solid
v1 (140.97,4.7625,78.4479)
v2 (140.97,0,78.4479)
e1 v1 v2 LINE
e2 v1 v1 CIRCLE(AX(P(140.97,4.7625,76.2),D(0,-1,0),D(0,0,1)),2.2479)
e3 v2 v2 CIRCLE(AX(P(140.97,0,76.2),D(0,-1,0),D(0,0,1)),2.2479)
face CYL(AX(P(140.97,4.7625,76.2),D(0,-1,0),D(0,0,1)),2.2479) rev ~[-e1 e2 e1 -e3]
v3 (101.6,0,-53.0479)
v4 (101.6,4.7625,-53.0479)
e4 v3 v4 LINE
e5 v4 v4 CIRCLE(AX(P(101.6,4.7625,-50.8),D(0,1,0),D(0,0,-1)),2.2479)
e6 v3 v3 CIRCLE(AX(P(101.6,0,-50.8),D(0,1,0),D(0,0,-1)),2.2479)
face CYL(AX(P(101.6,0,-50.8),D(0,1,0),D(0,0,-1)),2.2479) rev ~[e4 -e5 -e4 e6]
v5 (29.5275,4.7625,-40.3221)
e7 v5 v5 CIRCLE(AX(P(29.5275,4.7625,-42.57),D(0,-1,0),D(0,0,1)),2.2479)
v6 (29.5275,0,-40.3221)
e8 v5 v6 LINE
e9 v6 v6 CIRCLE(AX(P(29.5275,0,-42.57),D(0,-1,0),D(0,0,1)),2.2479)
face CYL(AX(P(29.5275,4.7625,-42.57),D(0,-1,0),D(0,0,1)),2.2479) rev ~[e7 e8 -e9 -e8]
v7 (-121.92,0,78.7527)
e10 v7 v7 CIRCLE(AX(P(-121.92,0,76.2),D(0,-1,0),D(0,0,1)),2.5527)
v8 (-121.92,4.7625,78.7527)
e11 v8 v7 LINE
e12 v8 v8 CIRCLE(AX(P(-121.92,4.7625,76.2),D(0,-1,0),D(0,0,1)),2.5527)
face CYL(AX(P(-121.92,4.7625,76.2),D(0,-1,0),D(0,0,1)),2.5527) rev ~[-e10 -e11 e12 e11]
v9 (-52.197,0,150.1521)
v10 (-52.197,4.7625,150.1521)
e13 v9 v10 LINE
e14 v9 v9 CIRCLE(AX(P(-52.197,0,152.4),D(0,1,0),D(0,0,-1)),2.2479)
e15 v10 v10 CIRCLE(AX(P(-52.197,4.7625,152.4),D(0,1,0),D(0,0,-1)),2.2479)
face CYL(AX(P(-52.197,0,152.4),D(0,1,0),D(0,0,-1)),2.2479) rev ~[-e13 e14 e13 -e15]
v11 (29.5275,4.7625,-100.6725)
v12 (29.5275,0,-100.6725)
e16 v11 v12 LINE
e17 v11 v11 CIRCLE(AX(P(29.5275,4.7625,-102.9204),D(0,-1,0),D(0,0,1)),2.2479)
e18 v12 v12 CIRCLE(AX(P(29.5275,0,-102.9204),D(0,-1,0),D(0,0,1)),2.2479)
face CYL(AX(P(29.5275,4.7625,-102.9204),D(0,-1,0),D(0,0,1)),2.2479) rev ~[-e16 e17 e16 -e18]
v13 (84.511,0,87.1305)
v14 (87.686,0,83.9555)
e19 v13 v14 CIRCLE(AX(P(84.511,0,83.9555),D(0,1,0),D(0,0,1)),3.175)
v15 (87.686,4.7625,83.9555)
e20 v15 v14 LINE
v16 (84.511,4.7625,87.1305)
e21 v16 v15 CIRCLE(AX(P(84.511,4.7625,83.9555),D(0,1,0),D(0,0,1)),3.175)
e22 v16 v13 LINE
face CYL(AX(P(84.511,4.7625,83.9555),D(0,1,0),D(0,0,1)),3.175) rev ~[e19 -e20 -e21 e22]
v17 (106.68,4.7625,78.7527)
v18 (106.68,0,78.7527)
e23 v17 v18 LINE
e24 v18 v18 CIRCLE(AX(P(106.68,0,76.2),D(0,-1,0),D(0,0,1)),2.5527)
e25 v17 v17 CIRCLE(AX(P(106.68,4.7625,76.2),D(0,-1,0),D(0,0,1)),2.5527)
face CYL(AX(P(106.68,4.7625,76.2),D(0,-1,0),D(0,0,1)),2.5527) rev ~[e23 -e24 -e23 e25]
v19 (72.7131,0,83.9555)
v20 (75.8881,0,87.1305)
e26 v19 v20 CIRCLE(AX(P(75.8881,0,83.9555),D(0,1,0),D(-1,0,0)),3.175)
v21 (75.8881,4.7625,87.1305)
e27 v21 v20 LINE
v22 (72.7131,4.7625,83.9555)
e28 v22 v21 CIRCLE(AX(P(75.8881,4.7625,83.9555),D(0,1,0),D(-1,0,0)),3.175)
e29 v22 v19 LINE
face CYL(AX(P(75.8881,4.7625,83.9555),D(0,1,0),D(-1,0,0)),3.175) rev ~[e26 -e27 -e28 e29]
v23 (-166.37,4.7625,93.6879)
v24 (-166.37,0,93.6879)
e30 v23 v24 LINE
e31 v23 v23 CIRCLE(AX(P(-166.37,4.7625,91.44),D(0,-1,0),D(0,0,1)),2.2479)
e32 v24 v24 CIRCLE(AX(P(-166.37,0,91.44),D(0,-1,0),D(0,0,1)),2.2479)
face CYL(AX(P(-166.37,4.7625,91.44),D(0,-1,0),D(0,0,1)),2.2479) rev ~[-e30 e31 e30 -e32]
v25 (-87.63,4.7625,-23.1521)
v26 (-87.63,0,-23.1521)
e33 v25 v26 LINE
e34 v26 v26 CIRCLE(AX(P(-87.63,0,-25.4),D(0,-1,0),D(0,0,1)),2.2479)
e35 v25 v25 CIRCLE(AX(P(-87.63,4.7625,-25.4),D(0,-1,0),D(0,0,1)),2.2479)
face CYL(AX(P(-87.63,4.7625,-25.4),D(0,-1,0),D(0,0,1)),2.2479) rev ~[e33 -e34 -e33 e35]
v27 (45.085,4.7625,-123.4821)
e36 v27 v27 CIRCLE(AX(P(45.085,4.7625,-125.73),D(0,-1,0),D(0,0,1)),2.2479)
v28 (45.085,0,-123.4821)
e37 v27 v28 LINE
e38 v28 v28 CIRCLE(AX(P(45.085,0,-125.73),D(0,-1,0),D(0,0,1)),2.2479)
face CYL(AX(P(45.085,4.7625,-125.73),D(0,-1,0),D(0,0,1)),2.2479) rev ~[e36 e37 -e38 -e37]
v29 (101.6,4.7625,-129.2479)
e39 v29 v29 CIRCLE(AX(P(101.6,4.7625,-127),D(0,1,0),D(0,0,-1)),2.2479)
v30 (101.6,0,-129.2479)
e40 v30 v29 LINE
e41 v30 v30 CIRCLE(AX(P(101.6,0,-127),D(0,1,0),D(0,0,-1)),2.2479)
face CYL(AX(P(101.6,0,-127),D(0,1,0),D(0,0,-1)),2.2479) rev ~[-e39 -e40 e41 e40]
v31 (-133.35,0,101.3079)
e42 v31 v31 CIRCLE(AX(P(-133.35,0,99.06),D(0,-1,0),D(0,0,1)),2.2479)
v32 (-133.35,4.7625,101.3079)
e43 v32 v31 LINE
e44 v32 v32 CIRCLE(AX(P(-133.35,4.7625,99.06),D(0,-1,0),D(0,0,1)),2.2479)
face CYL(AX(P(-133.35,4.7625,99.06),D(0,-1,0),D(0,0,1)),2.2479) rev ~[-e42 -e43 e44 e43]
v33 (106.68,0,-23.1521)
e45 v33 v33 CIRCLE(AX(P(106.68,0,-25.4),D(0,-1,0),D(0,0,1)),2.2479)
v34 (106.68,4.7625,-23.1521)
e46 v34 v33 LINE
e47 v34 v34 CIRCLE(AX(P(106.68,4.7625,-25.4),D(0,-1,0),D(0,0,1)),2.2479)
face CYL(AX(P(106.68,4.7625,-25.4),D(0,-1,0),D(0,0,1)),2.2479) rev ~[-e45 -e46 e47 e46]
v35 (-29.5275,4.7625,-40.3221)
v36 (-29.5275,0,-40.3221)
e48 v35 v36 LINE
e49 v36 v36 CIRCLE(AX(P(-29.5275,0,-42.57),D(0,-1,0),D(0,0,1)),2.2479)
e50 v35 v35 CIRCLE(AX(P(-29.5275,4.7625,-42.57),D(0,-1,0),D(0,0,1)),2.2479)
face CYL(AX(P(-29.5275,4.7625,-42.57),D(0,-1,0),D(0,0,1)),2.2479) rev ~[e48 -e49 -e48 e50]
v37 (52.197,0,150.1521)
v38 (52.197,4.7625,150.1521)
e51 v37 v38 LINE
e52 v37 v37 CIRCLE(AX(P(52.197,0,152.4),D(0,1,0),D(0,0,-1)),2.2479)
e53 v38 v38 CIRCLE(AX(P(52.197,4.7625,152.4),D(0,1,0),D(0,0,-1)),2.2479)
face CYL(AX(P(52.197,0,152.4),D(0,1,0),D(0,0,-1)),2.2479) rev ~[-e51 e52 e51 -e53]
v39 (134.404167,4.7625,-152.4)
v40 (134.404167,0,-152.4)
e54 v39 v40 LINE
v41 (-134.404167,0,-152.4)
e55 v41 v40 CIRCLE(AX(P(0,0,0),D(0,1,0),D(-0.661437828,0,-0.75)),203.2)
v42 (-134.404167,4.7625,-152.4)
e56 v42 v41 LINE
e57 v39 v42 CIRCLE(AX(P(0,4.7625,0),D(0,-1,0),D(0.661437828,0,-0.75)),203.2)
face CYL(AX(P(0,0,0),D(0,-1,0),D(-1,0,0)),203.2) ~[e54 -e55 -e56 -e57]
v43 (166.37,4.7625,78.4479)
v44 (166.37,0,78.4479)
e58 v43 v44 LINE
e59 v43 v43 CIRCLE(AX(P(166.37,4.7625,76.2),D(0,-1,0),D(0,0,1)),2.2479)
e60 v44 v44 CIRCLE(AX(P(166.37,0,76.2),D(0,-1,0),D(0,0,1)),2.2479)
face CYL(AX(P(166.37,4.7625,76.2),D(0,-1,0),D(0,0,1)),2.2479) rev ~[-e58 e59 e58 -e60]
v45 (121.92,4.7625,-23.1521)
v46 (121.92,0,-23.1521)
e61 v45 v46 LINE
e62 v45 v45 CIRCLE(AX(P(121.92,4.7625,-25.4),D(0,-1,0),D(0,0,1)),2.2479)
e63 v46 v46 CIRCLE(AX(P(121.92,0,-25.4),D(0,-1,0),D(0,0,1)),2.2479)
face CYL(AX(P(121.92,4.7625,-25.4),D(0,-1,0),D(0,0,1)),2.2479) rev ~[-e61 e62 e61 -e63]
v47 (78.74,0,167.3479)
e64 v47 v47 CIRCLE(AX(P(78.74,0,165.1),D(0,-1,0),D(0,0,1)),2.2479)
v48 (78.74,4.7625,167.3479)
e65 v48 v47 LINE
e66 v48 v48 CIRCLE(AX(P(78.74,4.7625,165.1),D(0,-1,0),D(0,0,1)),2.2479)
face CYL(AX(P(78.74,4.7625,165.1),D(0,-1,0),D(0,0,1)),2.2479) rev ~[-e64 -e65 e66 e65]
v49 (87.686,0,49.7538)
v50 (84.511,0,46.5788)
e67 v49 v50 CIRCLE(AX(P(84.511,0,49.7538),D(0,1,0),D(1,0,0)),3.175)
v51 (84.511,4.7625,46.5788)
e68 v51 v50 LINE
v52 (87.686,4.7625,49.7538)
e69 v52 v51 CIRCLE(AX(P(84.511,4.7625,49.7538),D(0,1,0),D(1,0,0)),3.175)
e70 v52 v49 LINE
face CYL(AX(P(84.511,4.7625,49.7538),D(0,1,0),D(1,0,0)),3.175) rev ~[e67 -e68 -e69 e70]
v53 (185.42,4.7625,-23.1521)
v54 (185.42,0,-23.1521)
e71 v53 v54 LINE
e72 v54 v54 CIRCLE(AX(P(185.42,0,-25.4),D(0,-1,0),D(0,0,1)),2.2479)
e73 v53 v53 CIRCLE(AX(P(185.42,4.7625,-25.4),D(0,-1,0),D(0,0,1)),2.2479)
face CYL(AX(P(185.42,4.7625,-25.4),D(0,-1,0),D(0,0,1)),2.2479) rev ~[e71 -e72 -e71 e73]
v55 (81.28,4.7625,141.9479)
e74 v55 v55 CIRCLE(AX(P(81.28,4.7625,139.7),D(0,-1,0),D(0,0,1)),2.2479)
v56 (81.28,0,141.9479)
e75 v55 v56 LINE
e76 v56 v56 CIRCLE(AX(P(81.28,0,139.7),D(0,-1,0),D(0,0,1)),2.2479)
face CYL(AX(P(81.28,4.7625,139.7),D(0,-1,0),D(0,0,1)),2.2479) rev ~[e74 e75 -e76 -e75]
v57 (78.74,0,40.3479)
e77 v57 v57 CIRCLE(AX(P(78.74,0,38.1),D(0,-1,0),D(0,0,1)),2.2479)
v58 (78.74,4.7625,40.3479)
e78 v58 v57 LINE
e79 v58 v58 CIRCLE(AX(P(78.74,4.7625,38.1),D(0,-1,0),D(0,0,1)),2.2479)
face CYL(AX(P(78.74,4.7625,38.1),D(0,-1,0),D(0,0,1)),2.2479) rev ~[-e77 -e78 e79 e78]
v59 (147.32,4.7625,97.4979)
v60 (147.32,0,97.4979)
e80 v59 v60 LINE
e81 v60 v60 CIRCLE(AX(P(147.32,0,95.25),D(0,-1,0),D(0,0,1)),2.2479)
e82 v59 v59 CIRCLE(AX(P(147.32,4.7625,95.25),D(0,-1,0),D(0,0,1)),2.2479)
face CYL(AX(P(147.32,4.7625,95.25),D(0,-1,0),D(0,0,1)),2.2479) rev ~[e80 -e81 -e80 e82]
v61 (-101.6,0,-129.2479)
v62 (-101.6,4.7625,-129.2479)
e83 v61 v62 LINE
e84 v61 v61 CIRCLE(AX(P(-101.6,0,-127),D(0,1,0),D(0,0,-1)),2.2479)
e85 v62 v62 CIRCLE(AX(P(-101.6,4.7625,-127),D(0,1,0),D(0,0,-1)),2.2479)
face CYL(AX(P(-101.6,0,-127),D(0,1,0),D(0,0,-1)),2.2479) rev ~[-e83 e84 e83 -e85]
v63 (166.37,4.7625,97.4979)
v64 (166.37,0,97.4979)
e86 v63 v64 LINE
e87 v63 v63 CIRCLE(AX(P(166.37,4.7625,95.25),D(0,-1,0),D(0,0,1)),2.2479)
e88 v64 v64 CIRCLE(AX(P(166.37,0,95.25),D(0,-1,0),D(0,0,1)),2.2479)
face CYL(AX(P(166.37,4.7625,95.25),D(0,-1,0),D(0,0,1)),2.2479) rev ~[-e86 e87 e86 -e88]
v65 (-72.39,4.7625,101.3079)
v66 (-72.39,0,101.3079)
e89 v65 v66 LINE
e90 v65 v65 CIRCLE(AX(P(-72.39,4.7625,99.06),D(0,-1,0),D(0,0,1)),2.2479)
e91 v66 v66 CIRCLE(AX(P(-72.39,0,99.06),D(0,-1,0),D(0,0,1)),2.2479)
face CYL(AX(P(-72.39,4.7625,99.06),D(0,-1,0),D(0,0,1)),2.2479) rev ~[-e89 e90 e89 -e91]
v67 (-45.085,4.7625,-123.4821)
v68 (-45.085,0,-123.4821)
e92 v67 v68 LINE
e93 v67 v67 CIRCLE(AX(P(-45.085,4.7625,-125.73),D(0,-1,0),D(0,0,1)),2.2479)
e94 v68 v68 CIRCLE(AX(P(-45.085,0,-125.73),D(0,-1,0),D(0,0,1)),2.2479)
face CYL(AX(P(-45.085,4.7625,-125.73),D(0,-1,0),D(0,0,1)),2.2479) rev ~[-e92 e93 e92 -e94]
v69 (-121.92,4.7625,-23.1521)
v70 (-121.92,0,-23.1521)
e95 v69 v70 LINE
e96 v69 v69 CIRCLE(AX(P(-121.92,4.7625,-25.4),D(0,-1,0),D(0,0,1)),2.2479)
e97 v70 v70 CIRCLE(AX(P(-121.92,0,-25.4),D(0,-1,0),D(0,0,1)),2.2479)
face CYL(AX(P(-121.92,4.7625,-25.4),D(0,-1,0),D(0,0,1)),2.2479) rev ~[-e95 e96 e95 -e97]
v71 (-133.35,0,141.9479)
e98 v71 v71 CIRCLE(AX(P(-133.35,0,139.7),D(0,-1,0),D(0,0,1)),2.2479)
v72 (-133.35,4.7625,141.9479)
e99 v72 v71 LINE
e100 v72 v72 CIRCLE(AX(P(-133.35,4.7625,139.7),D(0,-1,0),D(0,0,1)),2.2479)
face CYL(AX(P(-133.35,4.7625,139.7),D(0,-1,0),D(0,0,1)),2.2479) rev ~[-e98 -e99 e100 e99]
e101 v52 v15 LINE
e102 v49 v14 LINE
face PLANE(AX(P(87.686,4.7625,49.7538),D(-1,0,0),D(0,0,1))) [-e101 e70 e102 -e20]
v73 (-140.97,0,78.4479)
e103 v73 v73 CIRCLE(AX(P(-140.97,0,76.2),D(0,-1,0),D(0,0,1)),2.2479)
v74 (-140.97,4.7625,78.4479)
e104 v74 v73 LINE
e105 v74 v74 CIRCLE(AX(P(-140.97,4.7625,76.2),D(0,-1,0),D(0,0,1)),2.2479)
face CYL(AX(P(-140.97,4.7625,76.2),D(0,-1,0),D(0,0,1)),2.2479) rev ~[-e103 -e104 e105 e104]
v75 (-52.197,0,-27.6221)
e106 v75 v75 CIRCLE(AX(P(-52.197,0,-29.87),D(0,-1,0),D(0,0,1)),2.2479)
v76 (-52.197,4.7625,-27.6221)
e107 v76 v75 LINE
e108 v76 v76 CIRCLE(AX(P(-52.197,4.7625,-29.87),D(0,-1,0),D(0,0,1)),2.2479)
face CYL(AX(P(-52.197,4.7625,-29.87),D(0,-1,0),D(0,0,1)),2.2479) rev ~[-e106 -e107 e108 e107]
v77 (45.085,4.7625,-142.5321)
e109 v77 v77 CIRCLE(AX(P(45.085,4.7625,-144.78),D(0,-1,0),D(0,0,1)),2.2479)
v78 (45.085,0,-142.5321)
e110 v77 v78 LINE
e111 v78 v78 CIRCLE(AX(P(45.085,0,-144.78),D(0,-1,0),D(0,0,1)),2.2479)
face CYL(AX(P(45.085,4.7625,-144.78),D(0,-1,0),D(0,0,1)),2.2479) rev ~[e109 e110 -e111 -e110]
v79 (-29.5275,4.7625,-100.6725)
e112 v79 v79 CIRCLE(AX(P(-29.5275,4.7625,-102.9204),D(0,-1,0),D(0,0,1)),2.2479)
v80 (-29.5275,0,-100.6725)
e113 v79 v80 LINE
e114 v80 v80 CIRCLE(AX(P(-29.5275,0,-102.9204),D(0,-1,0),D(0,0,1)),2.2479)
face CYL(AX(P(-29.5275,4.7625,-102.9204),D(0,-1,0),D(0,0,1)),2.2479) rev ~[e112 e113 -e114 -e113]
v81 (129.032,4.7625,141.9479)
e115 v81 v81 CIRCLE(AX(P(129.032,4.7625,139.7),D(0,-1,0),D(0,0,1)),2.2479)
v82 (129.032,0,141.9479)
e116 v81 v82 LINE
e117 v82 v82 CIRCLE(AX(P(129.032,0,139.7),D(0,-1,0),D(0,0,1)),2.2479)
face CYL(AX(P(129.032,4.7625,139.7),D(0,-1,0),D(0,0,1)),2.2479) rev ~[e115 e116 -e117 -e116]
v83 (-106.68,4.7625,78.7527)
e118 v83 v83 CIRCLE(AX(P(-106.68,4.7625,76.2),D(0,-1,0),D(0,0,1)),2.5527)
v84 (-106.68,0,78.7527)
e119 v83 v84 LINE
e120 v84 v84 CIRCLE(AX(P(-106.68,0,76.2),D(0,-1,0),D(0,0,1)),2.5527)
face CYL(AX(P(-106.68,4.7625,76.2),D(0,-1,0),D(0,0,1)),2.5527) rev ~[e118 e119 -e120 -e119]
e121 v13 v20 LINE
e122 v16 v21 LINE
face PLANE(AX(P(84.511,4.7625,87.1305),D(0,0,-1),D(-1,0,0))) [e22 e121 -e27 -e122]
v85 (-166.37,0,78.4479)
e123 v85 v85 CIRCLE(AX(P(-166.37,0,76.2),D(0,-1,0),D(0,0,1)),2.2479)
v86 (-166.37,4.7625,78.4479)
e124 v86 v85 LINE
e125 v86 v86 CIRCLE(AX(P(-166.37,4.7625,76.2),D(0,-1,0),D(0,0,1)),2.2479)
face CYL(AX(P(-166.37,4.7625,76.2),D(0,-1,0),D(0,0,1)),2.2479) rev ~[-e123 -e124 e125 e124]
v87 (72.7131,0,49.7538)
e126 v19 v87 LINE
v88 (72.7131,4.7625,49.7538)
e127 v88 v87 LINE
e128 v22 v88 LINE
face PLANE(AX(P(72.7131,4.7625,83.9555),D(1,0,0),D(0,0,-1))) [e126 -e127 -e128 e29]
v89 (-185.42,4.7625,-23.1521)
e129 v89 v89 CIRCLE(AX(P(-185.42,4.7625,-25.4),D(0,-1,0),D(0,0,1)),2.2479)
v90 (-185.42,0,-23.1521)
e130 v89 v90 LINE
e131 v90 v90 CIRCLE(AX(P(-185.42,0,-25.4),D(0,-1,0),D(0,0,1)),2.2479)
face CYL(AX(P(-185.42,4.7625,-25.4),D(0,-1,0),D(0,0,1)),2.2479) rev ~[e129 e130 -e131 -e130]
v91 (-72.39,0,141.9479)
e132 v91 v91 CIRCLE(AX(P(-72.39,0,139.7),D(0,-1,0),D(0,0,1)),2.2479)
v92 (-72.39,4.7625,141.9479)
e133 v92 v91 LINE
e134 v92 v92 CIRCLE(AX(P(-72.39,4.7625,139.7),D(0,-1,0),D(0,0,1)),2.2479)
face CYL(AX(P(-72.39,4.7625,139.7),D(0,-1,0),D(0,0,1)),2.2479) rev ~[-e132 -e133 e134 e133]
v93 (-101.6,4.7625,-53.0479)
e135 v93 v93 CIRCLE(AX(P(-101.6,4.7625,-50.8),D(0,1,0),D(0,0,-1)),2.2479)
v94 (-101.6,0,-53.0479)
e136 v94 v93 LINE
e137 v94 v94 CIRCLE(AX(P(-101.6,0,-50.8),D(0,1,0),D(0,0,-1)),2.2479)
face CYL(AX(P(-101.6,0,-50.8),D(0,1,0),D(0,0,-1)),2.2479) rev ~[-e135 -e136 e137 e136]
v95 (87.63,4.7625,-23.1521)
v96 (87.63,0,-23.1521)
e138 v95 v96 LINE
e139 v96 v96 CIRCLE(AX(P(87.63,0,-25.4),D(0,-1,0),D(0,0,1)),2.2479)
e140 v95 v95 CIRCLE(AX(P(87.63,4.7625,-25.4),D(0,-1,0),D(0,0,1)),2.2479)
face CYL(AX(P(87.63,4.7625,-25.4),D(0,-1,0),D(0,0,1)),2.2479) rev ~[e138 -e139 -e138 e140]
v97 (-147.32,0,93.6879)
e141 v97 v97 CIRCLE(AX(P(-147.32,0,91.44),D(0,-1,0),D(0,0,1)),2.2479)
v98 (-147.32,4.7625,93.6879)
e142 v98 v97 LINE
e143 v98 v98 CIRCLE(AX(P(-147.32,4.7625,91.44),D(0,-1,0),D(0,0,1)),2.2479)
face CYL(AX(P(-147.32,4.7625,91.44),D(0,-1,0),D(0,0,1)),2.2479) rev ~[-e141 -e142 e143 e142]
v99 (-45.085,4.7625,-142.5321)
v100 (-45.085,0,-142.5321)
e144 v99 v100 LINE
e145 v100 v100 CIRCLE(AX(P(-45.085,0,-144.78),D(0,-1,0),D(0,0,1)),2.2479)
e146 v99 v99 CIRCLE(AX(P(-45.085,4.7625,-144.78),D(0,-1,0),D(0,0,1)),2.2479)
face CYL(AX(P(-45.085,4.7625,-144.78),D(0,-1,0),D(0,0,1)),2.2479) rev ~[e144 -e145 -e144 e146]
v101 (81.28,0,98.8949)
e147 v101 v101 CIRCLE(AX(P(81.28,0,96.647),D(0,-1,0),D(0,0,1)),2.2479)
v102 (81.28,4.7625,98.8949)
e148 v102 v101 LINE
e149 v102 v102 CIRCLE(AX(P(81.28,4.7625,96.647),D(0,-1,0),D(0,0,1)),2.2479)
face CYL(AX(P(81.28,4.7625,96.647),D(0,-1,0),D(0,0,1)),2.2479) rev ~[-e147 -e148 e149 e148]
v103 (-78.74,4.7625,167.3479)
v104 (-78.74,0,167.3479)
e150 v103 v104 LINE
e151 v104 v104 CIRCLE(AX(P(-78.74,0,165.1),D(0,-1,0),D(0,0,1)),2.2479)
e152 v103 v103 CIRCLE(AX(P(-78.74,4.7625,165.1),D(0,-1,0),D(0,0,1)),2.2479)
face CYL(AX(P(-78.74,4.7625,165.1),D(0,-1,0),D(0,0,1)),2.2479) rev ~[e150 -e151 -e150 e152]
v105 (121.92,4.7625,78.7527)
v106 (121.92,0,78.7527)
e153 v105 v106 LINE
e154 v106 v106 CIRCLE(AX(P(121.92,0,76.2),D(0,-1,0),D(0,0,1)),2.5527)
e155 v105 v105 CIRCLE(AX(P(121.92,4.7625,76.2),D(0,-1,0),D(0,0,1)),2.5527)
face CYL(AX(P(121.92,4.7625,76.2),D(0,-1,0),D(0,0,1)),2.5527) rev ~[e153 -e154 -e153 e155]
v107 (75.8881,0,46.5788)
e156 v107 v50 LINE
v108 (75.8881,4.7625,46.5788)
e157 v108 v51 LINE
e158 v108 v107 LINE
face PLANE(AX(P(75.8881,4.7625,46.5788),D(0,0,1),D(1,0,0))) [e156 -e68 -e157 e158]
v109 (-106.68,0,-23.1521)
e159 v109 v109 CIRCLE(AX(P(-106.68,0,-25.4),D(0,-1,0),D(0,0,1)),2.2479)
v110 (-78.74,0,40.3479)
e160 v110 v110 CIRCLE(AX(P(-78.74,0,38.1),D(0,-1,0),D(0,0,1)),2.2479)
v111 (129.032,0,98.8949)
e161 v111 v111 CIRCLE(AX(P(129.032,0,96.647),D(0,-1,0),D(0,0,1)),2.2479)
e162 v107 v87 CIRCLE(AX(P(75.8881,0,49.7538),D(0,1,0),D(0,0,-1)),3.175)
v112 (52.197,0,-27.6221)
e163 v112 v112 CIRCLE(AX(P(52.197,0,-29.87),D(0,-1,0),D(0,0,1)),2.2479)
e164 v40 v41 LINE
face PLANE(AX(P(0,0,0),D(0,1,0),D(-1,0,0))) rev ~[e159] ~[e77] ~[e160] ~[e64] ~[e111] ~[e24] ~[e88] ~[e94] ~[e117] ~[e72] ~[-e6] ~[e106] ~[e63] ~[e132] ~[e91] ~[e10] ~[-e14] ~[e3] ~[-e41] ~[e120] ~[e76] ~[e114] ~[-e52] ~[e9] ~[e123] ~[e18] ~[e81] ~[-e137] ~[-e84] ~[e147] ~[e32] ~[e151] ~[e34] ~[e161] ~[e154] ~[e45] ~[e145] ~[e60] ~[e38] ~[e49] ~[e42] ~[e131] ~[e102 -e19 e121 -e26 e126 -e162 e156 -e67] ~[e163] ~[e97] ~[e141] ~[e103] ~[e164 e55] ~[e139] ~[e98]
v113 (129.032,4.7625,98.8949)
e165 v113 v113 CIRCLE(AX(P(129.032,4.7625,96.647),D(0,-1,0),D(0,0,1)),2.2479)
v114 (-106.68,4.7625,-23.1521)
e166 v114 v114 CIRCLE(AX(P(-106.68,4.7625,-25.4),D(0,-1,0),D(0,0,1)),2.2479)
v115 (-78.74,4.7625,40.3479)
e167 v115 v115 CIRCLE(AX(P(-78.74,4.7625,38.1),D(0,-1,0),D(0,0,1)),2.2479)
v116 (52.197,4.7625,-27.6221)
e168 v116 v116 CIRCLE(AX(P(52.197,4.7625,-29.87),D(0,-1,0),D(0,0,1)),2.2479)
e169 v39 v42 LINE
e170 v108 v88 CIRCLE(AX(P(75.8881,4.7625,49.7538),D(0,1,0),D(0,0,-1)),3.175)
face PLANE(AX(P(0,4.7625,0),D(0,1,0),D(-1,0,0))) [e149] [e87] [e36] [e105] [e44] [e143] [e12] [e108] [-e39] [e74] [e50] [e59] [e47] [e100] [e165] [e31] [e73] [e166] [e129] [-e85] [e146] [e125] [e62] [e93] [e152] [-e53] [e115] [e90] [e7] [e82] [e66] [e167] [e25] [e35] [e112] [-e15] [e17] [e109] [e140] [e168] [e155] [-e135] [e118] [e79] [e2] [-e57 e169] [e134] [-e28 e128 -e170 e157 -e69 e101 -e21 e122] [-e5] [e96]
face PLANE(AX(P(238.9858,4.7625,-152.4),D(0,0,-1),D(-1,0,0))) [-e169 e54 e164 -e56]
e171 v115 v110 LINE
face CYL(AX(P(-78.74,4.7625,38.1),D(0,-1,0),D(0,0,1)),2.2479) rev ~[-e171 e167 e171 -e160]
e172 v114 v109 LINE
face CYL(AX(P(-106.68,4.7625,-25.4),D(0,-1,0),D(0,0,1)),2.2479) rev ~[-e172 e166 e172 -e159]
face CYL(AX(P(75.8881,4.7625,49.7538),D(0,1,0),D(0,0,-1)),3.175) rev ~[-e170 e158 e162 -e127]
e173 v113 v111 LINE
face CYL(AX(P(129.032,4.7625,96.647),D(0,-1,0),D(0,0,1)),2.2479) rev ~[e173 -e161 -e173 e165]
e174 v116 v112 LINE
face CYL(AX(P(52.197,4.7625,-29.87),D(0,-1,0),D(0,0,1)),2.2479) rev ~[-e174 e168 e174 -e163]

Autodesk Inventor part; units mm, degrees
ref_plane "YZ Plane" through (0, 0, 0) normal (1, 0, 0) x (0, 1, 0)
ref_plane "XZ Plane" through (0, 0, 0) normal (0, 1, 0) x (-1, 0, 0)
ref_plane "XY Plane" through (0, 0, 0) normal (0, 0, 1) x (1, 0, 0)
sketch "Sketch1" plane through (0, 0, 0) normal (0, 1, 0) x (-1, 0, 0)
  circle A0 centre (0, 0) radius 203.2
  dimension "d0" = 406.4
extrude "Extrusion1" add sketch "Sketch1" along normal blind 4.7625
sketch "Sketch6" plane through (0, 0, 0) normal (0, -1, 0) x (1, 0, 0)
  point P0 (0, 0)
  point P1 (52.197, 152.4)
  point P2 (-52.197, 152.4)
  dimension "d48" = 0
  dimension "d49" = 104.394
  dimension "d50" = 52.197
  dimension "d51" = 152.4
hole "Hole3" at (52.197, 0, 152.4) at (-52.197, 0, 152.4) direction (0, 1, 0) diameter 4.4958 end through all clearance for "Flat Head Machine Screw (82)" size "#8" standard "Ansi Unified Screw Threads"
sketch "Sketch8" plane through (0, 4.7625, 0) normal (0, 1, 0) x (1, 0, 0)
  line L0 (-249.9736, 258.2829) -> (238.9858, 258.2829)
  line L1 (238.9858, 258.2829) -> (238.9858, 152.4)
  line L2 (238.9858, 152.4) -> (-249.9736, 152.4)
  line L3 (-249.9736, 152.4) -> (-249.9736, 258.2829)
  point P0 (0, 0)
  dimension "d80" = 152.4
extrude "Extrusion4" cut sketch "Sketch8" against normal blind 100.0125
sketch "Sketch14" plane through (0, 4.7625, 0) normal (0, 1, 0) x (1, 0, 0)
  circle A0 centre (52.197, -152.4) radius 2.2479 projected
  circle A1 centre (-52.197, -152.4) radius 2.2479 projected
  point P0 (0, 0)
  point P1 (-52.197, 29.87)
  point P2 (52.197, 29.87)
  dimension "d138" = 0
  dimension "d139" = 182.27
  dimension "d140" = 182.27
  dimension "d141" = 0
hole "Hole7" at (-52.197, 4.7625, -29.87) at (52.197, 4.7625, -29.87) direction (0, -1, 0) diameter 4.4958 depth 25.4 tip angle 118 clearance for "Hex Machine Screw" size "#8" standard "Ansi Unified Screw Threads"
sketch "Sketch15" plane through (0, 4.7625, 0) normal (0, 1, 0) x (1, 0, 0)
  circle A0 centre (-52.197, -152.4) radius 2.2479 projected
  point P0 (0, 0)
  point P1 (-78.74, -165.1)
  point P2 (-78.74, -38.1)
  point P3 (78.74, -165.1)
  point P4 (78.74, -38.1)
  dimension "d149" = 0
  dimension "d150" = 0
  dimension "d151" = 0
  dimension "d152" = 0
  dimension "d153" = 127
  dimension "d155" = 157.48
  dimension "d156" = 78.74
  dimension "d270" = 12.7
hole "Hole8" at (-78.74, 4.7625, 165.1) at (-78.74, 4.7625, 38.1) at (78.74, 4.7625, 165.1) at (78.74, 4.7625, 38.1) direction (0, -1, 0) diameter 4.4958 end through all clearance for "Flat Head Machine Screw (82)" size "#8" standard "Ansi Unified Screw Threads"
sketch "Sketch16" plane through (0, 4.7625, 0) normal (0, 1, 0) x (1, 0, 0)
  circle A0 centre (78.74, -165.1) radius 2.2479 projected
  point P0 (0, 0)
  point P1 (81.28, -96.647)
  point P2 (129.032, -96.647)
  point P3 (81.28, -139.7)
  point P4 (129.032, -139.7)
  dimension "d164" = 0
  dimension "d165" = 0
  dimension "d166" = 0
  dimension "d167" = 0
  dimension "d170" = 47.752
  dimension "d171" = 43.053
  dimension "d271" = 2.54
  dimension "d272" = 25.4
hole "Hole9" at (81.28, 4.7625, 96.647) at (129.032, 4.7625, 96.647) at (81.28, 4.7625, 139.7) at (129.032, 4.7625, 139.7) direction (0, -1, 0) diameter 4.4958 end through all clearance for "Flat Head Machine Screw (82)" size "#8" standard "Ansi Unified Screw Threads"
sketch "Sketch17" plane through (0, 4.7625, 0) normal (0, 1, 0) x (1, 0, 0)
  circle A0 centre (-52.197, 29.87) radius 2.2479 projected
  point P0 (0, 0)
  point P1 (-29.5275, 102.9204)
  point P2 (-29.5275, 42.57)
  point P3 (29.5275, 42.57)
  point P4 (29.5275, 102.9204)
  dimension "d179" = 0
  dimension "d180" = 0
  dimension "d181" = 0
  dimension "d182" = 0
  dimension "d183" = 59.055
  dimension "d184" = 29.5275
  dimension "d185" = 12.7
  dimension "d186" = 60.3504
hole "Hole10" at (-29.5275, 4.7625, -102.9204) at (-29.5275, 4.7625, -42.57) at (29.5275, 4.7625, -42.57) at (29.5275, 4.7625, -102.9204) direction (0, -1, 0) diameter 4.4958 end through all clearance for "Flat Head Machine Screw (82)" size "#8" standard "Ansi Unified Screw Threads"
sketch "Sketch18" plane through (0, 4.7625, 0) normal (0, 1, 0) x (1, 0, 0)
  line L0 (134.4042, 152.4) -> (-134.4042, 152.4) projected
  point P0 (0, 0)
  point P1 (-45.085, 144.78)
  point P2 (45.085, 144.78)
  point P3 (45.085, 125.73)
  point P4 (-45.085, 125.73)
  dimension "d194" = 90.17
  dimension "d195" = 0
  dimension "d196" = 19.05
  dimension "d197" = 0
  dimension "d198" = 0
  dimension "d199" = 0
  dimension "d200" = 7.62
  dimension "d201" = 45.085
hole "Hole11" at (-45.085, 4.7625, -144.78) at (45.085, 4.7625, -144.78) at (45.085, 4.7625, -125.73) at (-45.085, 4.7625, -125.73) direction (0, -1, 0) diameter 4.4958 end through all clearance for "Flat Head Machine Screw (82)" size "#8" standard "Ansi Unified Screw Threads"
sketch "Sketch19" plane through (0, 4.7625, 0) normal (0, 1, 0) x (1, 0, 0)
  point P0 (0, 0)
  point P1 (-106.68, -76.2)
  point P2 (-121.92, -76.2)
  point P3 (106.68, -76.2)
  point P4 (121.92, -76.2)
  dimension "d209" = 0
  dimension "d210" = 76.2
  dimension "d211" = 76.2
  dimension "d212" = 0
  dimension "d213" = 15.24
  dimension "d214" = 15.24
  dimension "d215" = 106.68
  dimension "d216" = 106.68
hole "Hole12" at (-106.68, 4.7625, 76.2) at (-121.92, 4.7625, 76.2) at (106.68, 4.7625, 76.2) at (121.92, 4.7625, 76.2) direction (0, -1, 0) diameter 5.1054 depth 25.4 tip angle 118 clearance for "Flat Head Machine Screw (82)" size "#10" standard "Ansi Unified Screw Threads"
sketch "Sketch20" plane through (0, 4.7625, 0) normal (0, 1, 0) x (1, 0, 0)
  circle A0 centre (-121.92, -76.2) radius 2.5527 projected
  circle A1 centre (-106.68, -76.2) radius 2.5527 projected
  circle A2 centre (106.68, -76.2) radius 2.5527 projected
  circle A3 centre (121.92, -76.2) radius 2.5527 projected
  circle A4 centre (121.92, -76.2) radius 2.5527 projected
  point P0 (0, 0)
  point P1 (-121.92, 25.4)
  point P2 (-106.68, 25.4)
  point P3 (121.92, 25.4)
  point P4 (106.68, 25.4)
  dimension "d224" = 0
  dimension "d225" = 0
  dimension "d226" = 0
  dimension "d227" = 0
  dimension "d228" = 0
  dimension "d229" = 0
  dimension "d230" = 0
  dimension "d231" = 101.6
hole "Hole13" at (-121.92, 4.7625, -25.4) at (-106.68, 4.7625, -25.4) at (121.92, 4.7625, -25.4) at (106.68, 4.7625, -25.4) direction (0, -1, 0) diameter 4.4958 end through all clearance for "Flat Head Machine Screw (82)" size "#8" standard "Ansi Unified Screw Threads"
sketch "Sketch21" plane through (0, 4.7625, 0) normal (0, 1, 0) x (1, 0, 0)
  circle A0 centre (121.92, 25.4) radius 2.2479 projected
  circle A1 centre (106.68, 25.4) radius 2.2479 projected
  circle A2 centre (-106.68, 25.4) radius 2.2479 projected
  circle A3 centre (-121.92, 25.4) radius 2.2479 projected
  point P0 (0, 0)
  point P1 (-87.63, 25.4)
  point P2 (-185.42, 25.4)
  point P3 (87.63, 25.4)
  point P4 (185.42, 25.4)
  dimension "d239" = 0
  dimension "d240" = 0
  dimension "d241" = 0
  dimension "d242" = 0
  dimension "d243" = 19.05
  dimension "d244" = 63.5
  dimension "d245" = 63.5
  dimension "d246" = 19.05
hole "Hole14" at (-87.63, 4.7625, -25.4) at (-185.42, 4.7625, -25.4) at (87.63, 4.7625, -25.4) at (185.42, 4.7625, -25.4) direction (0, -1, 0) diameter 4.4958 end through all clearance for "Flat Head Machine Screw (82)" size "#8" standard "Ansi Unified Screw Threads"
sketch "Sketch22" plane through (0, 4.7625, 0) normal (0, 1, 0) x (1, 0, 0)
  circle A0 centre (-121.92, -76.2) radius 2.5527 projected
  circle A1 centre (-106.68, -76.2) radius 2.5527 projected
  circle A2 centre (106.68, -76.2) radius 2.5527 projected
  circle A3 centre (121.92, -76.2) radius 2.5527 projected
  point P0 (0, 0)
  point P1 (-140.97, -76.2)
  point P2 (-166.37, -76.2)
  point P3 (140.97, -76.2)
  point P4 (166.37, -76.2)
  dimension "d254" = 0
  dimension "d255" = 0
  dimension "d256" = 19.05
  dimension "d257" = 25.4
  dimension "d258" = 0
  dimension "d259" = 0
  dimension "d260" = 25.4
  dimension "d261" = 19.05
hole "Hole15" at (-140.97, 4.7625, 76.2) at (-166.37, 4.7625, 76.2) at (140.97, 4.7625, 76.2) at (166.37, 4.7625, 76.2) direction (0, -1, 0) diameter 4.4958 end through all clearance for "Flat Head Machine Screw (82)" size "#8" standard "Ansi Unified Screw Threads"
sketch "Sketch23" plane through (0, 4.7625, 0) normal (0, 1, 0) x (1, 0, 0)
  line L0 (75.8881, -46.5788) -> (84.511, -46.5788)
  line L1 (87.686, -49.7538) -> (87.686, -83.9555)
  line L2 (84.511, -87.1305) -> (75.8881, -87.1305)
  line L3 (72.7131, -83.9555) -> (72.7131, -49.7538)
  arc A0 (87.686, -49.7538) -> (84.511, -46.5788) centre (84.511, -49.7538) ccw
  arc A1 (84.511, -87.1305) -> (87.686, -83.9555) centre (84.511, -83.9555) ccw
  arc A2 (72.7131, -83.9555) -> (75.8881, -87.1305) centre (75.8881, -83.9555) ccw
  arc A3 (75.8881, -46.5788) -> (72.7131, -49.7538) centre (75.8881, -49.7538) ccw
  point P0 (0, 0)
  dimension "d273" = 3.175
extrude "Extrusion8" cut sketch "Sketch23" against normal blind 25.4
sketch "Sketch24" plane through (0, 4.7625, 0) normal (0, 1, 0) x (1, 0, 0)
  circle A0 centre (-78.74, -165.1) radius 2.2479 projected
  point P0 (0, 0)
  point P1 (-133.35, -99.06)
  point P2 (-72.39, -99.06)
  point P3 (-133.35, -139.7)
  point P4 (-72.39, -139.7)
  dimension "d276" = 40.64
  dimension "d277" = 60.96
  dimension "d278" = 0
  dimension "d279" = 0
  dimension "d280" = 0
  dimension "d281" = 0
  dimension "d289" = 25.4
  dimension "d290" = 6.35
hole "Hole16" at (-133.35, 4.7625, 99.06) at (-72.39, 4.7625, 99.06) at (-72.39, 4.7625, 139.7) at (-133.35, 4.7625, 139.7) direction (0, -1, 0) diameter 4.4958 end through all clearance for "Flat Head Machine Screw (82)" size "#8" standard "Ansi Unified Screw Threads"
sketch "Sketch25" plane through (0, 0, 0) normal (0, -1, 0) x (1, 0, 0)
  point P0 (0, 0)
  point P1 (-101.6, -50.8)
  point P2 (-101.6, -127)
  point P3 (101.6, -127)
  point P4 (101.6, -50.8)
  dimension "d291" = 0
  dimension "d292" = 0
  dimension "d293" = 0
  dimension "d294" = 0
  dimension "d295" = 101.6
  dimension "d296" = 101.6
  dimension "d297" = 76.2
  dimension "d298" = 50.8
hole "Hole17" at (-101.6, 0, -50.8) at (-101.6, 0, -127) at (101.6, 0, -127) at (101.6, 0, -50.8) direction (0, 1, 0) diameter 4.4958 end through all clearance for "Flat Head Machine Screw (82)" size "#8" standard "Ansi Unified Screw Threads"
sketch "Sketch26" plane through (0, 4.7625, 0) normal (0, 1, 0) x (1, 0, 0)
  circle A0 centre (-166.37, -76.2) radius 2.2479 projected
  circle A1 centre (166.37, -76.2) radius 2.2479 projected
  point P0 (0, 0)
  point P1 (-166.37, -91.44)
  point P2 (-147.32, -91.44)
  point P3 (166.37, -95.25)
  point P4 (147.32, -95.25)
  dimension "d306" = 0
  dimension "d307" = 15.24
  dimension "d308" = 0
  dimension "d309" = 19.05
  dimension "d310" = 0
  dimension "d311" = 19.05
  dimension "d312" = 0
  dimension "d313" = 19.05
hole "Hole18" at (-166.37, 4.7625, 91.44) at (-147.32, 4.7625, 91.44) at (147.32, 4.7625, 95.25) at (166.37, 4.7625, 95.25) direction (0, -1, 0) diameter 4.4958 end through all clearance for "Flat Head Machine Screw (82)" size "#8" standard "Ansi Unified Screw Threads"
properties part number "TopPlate"
